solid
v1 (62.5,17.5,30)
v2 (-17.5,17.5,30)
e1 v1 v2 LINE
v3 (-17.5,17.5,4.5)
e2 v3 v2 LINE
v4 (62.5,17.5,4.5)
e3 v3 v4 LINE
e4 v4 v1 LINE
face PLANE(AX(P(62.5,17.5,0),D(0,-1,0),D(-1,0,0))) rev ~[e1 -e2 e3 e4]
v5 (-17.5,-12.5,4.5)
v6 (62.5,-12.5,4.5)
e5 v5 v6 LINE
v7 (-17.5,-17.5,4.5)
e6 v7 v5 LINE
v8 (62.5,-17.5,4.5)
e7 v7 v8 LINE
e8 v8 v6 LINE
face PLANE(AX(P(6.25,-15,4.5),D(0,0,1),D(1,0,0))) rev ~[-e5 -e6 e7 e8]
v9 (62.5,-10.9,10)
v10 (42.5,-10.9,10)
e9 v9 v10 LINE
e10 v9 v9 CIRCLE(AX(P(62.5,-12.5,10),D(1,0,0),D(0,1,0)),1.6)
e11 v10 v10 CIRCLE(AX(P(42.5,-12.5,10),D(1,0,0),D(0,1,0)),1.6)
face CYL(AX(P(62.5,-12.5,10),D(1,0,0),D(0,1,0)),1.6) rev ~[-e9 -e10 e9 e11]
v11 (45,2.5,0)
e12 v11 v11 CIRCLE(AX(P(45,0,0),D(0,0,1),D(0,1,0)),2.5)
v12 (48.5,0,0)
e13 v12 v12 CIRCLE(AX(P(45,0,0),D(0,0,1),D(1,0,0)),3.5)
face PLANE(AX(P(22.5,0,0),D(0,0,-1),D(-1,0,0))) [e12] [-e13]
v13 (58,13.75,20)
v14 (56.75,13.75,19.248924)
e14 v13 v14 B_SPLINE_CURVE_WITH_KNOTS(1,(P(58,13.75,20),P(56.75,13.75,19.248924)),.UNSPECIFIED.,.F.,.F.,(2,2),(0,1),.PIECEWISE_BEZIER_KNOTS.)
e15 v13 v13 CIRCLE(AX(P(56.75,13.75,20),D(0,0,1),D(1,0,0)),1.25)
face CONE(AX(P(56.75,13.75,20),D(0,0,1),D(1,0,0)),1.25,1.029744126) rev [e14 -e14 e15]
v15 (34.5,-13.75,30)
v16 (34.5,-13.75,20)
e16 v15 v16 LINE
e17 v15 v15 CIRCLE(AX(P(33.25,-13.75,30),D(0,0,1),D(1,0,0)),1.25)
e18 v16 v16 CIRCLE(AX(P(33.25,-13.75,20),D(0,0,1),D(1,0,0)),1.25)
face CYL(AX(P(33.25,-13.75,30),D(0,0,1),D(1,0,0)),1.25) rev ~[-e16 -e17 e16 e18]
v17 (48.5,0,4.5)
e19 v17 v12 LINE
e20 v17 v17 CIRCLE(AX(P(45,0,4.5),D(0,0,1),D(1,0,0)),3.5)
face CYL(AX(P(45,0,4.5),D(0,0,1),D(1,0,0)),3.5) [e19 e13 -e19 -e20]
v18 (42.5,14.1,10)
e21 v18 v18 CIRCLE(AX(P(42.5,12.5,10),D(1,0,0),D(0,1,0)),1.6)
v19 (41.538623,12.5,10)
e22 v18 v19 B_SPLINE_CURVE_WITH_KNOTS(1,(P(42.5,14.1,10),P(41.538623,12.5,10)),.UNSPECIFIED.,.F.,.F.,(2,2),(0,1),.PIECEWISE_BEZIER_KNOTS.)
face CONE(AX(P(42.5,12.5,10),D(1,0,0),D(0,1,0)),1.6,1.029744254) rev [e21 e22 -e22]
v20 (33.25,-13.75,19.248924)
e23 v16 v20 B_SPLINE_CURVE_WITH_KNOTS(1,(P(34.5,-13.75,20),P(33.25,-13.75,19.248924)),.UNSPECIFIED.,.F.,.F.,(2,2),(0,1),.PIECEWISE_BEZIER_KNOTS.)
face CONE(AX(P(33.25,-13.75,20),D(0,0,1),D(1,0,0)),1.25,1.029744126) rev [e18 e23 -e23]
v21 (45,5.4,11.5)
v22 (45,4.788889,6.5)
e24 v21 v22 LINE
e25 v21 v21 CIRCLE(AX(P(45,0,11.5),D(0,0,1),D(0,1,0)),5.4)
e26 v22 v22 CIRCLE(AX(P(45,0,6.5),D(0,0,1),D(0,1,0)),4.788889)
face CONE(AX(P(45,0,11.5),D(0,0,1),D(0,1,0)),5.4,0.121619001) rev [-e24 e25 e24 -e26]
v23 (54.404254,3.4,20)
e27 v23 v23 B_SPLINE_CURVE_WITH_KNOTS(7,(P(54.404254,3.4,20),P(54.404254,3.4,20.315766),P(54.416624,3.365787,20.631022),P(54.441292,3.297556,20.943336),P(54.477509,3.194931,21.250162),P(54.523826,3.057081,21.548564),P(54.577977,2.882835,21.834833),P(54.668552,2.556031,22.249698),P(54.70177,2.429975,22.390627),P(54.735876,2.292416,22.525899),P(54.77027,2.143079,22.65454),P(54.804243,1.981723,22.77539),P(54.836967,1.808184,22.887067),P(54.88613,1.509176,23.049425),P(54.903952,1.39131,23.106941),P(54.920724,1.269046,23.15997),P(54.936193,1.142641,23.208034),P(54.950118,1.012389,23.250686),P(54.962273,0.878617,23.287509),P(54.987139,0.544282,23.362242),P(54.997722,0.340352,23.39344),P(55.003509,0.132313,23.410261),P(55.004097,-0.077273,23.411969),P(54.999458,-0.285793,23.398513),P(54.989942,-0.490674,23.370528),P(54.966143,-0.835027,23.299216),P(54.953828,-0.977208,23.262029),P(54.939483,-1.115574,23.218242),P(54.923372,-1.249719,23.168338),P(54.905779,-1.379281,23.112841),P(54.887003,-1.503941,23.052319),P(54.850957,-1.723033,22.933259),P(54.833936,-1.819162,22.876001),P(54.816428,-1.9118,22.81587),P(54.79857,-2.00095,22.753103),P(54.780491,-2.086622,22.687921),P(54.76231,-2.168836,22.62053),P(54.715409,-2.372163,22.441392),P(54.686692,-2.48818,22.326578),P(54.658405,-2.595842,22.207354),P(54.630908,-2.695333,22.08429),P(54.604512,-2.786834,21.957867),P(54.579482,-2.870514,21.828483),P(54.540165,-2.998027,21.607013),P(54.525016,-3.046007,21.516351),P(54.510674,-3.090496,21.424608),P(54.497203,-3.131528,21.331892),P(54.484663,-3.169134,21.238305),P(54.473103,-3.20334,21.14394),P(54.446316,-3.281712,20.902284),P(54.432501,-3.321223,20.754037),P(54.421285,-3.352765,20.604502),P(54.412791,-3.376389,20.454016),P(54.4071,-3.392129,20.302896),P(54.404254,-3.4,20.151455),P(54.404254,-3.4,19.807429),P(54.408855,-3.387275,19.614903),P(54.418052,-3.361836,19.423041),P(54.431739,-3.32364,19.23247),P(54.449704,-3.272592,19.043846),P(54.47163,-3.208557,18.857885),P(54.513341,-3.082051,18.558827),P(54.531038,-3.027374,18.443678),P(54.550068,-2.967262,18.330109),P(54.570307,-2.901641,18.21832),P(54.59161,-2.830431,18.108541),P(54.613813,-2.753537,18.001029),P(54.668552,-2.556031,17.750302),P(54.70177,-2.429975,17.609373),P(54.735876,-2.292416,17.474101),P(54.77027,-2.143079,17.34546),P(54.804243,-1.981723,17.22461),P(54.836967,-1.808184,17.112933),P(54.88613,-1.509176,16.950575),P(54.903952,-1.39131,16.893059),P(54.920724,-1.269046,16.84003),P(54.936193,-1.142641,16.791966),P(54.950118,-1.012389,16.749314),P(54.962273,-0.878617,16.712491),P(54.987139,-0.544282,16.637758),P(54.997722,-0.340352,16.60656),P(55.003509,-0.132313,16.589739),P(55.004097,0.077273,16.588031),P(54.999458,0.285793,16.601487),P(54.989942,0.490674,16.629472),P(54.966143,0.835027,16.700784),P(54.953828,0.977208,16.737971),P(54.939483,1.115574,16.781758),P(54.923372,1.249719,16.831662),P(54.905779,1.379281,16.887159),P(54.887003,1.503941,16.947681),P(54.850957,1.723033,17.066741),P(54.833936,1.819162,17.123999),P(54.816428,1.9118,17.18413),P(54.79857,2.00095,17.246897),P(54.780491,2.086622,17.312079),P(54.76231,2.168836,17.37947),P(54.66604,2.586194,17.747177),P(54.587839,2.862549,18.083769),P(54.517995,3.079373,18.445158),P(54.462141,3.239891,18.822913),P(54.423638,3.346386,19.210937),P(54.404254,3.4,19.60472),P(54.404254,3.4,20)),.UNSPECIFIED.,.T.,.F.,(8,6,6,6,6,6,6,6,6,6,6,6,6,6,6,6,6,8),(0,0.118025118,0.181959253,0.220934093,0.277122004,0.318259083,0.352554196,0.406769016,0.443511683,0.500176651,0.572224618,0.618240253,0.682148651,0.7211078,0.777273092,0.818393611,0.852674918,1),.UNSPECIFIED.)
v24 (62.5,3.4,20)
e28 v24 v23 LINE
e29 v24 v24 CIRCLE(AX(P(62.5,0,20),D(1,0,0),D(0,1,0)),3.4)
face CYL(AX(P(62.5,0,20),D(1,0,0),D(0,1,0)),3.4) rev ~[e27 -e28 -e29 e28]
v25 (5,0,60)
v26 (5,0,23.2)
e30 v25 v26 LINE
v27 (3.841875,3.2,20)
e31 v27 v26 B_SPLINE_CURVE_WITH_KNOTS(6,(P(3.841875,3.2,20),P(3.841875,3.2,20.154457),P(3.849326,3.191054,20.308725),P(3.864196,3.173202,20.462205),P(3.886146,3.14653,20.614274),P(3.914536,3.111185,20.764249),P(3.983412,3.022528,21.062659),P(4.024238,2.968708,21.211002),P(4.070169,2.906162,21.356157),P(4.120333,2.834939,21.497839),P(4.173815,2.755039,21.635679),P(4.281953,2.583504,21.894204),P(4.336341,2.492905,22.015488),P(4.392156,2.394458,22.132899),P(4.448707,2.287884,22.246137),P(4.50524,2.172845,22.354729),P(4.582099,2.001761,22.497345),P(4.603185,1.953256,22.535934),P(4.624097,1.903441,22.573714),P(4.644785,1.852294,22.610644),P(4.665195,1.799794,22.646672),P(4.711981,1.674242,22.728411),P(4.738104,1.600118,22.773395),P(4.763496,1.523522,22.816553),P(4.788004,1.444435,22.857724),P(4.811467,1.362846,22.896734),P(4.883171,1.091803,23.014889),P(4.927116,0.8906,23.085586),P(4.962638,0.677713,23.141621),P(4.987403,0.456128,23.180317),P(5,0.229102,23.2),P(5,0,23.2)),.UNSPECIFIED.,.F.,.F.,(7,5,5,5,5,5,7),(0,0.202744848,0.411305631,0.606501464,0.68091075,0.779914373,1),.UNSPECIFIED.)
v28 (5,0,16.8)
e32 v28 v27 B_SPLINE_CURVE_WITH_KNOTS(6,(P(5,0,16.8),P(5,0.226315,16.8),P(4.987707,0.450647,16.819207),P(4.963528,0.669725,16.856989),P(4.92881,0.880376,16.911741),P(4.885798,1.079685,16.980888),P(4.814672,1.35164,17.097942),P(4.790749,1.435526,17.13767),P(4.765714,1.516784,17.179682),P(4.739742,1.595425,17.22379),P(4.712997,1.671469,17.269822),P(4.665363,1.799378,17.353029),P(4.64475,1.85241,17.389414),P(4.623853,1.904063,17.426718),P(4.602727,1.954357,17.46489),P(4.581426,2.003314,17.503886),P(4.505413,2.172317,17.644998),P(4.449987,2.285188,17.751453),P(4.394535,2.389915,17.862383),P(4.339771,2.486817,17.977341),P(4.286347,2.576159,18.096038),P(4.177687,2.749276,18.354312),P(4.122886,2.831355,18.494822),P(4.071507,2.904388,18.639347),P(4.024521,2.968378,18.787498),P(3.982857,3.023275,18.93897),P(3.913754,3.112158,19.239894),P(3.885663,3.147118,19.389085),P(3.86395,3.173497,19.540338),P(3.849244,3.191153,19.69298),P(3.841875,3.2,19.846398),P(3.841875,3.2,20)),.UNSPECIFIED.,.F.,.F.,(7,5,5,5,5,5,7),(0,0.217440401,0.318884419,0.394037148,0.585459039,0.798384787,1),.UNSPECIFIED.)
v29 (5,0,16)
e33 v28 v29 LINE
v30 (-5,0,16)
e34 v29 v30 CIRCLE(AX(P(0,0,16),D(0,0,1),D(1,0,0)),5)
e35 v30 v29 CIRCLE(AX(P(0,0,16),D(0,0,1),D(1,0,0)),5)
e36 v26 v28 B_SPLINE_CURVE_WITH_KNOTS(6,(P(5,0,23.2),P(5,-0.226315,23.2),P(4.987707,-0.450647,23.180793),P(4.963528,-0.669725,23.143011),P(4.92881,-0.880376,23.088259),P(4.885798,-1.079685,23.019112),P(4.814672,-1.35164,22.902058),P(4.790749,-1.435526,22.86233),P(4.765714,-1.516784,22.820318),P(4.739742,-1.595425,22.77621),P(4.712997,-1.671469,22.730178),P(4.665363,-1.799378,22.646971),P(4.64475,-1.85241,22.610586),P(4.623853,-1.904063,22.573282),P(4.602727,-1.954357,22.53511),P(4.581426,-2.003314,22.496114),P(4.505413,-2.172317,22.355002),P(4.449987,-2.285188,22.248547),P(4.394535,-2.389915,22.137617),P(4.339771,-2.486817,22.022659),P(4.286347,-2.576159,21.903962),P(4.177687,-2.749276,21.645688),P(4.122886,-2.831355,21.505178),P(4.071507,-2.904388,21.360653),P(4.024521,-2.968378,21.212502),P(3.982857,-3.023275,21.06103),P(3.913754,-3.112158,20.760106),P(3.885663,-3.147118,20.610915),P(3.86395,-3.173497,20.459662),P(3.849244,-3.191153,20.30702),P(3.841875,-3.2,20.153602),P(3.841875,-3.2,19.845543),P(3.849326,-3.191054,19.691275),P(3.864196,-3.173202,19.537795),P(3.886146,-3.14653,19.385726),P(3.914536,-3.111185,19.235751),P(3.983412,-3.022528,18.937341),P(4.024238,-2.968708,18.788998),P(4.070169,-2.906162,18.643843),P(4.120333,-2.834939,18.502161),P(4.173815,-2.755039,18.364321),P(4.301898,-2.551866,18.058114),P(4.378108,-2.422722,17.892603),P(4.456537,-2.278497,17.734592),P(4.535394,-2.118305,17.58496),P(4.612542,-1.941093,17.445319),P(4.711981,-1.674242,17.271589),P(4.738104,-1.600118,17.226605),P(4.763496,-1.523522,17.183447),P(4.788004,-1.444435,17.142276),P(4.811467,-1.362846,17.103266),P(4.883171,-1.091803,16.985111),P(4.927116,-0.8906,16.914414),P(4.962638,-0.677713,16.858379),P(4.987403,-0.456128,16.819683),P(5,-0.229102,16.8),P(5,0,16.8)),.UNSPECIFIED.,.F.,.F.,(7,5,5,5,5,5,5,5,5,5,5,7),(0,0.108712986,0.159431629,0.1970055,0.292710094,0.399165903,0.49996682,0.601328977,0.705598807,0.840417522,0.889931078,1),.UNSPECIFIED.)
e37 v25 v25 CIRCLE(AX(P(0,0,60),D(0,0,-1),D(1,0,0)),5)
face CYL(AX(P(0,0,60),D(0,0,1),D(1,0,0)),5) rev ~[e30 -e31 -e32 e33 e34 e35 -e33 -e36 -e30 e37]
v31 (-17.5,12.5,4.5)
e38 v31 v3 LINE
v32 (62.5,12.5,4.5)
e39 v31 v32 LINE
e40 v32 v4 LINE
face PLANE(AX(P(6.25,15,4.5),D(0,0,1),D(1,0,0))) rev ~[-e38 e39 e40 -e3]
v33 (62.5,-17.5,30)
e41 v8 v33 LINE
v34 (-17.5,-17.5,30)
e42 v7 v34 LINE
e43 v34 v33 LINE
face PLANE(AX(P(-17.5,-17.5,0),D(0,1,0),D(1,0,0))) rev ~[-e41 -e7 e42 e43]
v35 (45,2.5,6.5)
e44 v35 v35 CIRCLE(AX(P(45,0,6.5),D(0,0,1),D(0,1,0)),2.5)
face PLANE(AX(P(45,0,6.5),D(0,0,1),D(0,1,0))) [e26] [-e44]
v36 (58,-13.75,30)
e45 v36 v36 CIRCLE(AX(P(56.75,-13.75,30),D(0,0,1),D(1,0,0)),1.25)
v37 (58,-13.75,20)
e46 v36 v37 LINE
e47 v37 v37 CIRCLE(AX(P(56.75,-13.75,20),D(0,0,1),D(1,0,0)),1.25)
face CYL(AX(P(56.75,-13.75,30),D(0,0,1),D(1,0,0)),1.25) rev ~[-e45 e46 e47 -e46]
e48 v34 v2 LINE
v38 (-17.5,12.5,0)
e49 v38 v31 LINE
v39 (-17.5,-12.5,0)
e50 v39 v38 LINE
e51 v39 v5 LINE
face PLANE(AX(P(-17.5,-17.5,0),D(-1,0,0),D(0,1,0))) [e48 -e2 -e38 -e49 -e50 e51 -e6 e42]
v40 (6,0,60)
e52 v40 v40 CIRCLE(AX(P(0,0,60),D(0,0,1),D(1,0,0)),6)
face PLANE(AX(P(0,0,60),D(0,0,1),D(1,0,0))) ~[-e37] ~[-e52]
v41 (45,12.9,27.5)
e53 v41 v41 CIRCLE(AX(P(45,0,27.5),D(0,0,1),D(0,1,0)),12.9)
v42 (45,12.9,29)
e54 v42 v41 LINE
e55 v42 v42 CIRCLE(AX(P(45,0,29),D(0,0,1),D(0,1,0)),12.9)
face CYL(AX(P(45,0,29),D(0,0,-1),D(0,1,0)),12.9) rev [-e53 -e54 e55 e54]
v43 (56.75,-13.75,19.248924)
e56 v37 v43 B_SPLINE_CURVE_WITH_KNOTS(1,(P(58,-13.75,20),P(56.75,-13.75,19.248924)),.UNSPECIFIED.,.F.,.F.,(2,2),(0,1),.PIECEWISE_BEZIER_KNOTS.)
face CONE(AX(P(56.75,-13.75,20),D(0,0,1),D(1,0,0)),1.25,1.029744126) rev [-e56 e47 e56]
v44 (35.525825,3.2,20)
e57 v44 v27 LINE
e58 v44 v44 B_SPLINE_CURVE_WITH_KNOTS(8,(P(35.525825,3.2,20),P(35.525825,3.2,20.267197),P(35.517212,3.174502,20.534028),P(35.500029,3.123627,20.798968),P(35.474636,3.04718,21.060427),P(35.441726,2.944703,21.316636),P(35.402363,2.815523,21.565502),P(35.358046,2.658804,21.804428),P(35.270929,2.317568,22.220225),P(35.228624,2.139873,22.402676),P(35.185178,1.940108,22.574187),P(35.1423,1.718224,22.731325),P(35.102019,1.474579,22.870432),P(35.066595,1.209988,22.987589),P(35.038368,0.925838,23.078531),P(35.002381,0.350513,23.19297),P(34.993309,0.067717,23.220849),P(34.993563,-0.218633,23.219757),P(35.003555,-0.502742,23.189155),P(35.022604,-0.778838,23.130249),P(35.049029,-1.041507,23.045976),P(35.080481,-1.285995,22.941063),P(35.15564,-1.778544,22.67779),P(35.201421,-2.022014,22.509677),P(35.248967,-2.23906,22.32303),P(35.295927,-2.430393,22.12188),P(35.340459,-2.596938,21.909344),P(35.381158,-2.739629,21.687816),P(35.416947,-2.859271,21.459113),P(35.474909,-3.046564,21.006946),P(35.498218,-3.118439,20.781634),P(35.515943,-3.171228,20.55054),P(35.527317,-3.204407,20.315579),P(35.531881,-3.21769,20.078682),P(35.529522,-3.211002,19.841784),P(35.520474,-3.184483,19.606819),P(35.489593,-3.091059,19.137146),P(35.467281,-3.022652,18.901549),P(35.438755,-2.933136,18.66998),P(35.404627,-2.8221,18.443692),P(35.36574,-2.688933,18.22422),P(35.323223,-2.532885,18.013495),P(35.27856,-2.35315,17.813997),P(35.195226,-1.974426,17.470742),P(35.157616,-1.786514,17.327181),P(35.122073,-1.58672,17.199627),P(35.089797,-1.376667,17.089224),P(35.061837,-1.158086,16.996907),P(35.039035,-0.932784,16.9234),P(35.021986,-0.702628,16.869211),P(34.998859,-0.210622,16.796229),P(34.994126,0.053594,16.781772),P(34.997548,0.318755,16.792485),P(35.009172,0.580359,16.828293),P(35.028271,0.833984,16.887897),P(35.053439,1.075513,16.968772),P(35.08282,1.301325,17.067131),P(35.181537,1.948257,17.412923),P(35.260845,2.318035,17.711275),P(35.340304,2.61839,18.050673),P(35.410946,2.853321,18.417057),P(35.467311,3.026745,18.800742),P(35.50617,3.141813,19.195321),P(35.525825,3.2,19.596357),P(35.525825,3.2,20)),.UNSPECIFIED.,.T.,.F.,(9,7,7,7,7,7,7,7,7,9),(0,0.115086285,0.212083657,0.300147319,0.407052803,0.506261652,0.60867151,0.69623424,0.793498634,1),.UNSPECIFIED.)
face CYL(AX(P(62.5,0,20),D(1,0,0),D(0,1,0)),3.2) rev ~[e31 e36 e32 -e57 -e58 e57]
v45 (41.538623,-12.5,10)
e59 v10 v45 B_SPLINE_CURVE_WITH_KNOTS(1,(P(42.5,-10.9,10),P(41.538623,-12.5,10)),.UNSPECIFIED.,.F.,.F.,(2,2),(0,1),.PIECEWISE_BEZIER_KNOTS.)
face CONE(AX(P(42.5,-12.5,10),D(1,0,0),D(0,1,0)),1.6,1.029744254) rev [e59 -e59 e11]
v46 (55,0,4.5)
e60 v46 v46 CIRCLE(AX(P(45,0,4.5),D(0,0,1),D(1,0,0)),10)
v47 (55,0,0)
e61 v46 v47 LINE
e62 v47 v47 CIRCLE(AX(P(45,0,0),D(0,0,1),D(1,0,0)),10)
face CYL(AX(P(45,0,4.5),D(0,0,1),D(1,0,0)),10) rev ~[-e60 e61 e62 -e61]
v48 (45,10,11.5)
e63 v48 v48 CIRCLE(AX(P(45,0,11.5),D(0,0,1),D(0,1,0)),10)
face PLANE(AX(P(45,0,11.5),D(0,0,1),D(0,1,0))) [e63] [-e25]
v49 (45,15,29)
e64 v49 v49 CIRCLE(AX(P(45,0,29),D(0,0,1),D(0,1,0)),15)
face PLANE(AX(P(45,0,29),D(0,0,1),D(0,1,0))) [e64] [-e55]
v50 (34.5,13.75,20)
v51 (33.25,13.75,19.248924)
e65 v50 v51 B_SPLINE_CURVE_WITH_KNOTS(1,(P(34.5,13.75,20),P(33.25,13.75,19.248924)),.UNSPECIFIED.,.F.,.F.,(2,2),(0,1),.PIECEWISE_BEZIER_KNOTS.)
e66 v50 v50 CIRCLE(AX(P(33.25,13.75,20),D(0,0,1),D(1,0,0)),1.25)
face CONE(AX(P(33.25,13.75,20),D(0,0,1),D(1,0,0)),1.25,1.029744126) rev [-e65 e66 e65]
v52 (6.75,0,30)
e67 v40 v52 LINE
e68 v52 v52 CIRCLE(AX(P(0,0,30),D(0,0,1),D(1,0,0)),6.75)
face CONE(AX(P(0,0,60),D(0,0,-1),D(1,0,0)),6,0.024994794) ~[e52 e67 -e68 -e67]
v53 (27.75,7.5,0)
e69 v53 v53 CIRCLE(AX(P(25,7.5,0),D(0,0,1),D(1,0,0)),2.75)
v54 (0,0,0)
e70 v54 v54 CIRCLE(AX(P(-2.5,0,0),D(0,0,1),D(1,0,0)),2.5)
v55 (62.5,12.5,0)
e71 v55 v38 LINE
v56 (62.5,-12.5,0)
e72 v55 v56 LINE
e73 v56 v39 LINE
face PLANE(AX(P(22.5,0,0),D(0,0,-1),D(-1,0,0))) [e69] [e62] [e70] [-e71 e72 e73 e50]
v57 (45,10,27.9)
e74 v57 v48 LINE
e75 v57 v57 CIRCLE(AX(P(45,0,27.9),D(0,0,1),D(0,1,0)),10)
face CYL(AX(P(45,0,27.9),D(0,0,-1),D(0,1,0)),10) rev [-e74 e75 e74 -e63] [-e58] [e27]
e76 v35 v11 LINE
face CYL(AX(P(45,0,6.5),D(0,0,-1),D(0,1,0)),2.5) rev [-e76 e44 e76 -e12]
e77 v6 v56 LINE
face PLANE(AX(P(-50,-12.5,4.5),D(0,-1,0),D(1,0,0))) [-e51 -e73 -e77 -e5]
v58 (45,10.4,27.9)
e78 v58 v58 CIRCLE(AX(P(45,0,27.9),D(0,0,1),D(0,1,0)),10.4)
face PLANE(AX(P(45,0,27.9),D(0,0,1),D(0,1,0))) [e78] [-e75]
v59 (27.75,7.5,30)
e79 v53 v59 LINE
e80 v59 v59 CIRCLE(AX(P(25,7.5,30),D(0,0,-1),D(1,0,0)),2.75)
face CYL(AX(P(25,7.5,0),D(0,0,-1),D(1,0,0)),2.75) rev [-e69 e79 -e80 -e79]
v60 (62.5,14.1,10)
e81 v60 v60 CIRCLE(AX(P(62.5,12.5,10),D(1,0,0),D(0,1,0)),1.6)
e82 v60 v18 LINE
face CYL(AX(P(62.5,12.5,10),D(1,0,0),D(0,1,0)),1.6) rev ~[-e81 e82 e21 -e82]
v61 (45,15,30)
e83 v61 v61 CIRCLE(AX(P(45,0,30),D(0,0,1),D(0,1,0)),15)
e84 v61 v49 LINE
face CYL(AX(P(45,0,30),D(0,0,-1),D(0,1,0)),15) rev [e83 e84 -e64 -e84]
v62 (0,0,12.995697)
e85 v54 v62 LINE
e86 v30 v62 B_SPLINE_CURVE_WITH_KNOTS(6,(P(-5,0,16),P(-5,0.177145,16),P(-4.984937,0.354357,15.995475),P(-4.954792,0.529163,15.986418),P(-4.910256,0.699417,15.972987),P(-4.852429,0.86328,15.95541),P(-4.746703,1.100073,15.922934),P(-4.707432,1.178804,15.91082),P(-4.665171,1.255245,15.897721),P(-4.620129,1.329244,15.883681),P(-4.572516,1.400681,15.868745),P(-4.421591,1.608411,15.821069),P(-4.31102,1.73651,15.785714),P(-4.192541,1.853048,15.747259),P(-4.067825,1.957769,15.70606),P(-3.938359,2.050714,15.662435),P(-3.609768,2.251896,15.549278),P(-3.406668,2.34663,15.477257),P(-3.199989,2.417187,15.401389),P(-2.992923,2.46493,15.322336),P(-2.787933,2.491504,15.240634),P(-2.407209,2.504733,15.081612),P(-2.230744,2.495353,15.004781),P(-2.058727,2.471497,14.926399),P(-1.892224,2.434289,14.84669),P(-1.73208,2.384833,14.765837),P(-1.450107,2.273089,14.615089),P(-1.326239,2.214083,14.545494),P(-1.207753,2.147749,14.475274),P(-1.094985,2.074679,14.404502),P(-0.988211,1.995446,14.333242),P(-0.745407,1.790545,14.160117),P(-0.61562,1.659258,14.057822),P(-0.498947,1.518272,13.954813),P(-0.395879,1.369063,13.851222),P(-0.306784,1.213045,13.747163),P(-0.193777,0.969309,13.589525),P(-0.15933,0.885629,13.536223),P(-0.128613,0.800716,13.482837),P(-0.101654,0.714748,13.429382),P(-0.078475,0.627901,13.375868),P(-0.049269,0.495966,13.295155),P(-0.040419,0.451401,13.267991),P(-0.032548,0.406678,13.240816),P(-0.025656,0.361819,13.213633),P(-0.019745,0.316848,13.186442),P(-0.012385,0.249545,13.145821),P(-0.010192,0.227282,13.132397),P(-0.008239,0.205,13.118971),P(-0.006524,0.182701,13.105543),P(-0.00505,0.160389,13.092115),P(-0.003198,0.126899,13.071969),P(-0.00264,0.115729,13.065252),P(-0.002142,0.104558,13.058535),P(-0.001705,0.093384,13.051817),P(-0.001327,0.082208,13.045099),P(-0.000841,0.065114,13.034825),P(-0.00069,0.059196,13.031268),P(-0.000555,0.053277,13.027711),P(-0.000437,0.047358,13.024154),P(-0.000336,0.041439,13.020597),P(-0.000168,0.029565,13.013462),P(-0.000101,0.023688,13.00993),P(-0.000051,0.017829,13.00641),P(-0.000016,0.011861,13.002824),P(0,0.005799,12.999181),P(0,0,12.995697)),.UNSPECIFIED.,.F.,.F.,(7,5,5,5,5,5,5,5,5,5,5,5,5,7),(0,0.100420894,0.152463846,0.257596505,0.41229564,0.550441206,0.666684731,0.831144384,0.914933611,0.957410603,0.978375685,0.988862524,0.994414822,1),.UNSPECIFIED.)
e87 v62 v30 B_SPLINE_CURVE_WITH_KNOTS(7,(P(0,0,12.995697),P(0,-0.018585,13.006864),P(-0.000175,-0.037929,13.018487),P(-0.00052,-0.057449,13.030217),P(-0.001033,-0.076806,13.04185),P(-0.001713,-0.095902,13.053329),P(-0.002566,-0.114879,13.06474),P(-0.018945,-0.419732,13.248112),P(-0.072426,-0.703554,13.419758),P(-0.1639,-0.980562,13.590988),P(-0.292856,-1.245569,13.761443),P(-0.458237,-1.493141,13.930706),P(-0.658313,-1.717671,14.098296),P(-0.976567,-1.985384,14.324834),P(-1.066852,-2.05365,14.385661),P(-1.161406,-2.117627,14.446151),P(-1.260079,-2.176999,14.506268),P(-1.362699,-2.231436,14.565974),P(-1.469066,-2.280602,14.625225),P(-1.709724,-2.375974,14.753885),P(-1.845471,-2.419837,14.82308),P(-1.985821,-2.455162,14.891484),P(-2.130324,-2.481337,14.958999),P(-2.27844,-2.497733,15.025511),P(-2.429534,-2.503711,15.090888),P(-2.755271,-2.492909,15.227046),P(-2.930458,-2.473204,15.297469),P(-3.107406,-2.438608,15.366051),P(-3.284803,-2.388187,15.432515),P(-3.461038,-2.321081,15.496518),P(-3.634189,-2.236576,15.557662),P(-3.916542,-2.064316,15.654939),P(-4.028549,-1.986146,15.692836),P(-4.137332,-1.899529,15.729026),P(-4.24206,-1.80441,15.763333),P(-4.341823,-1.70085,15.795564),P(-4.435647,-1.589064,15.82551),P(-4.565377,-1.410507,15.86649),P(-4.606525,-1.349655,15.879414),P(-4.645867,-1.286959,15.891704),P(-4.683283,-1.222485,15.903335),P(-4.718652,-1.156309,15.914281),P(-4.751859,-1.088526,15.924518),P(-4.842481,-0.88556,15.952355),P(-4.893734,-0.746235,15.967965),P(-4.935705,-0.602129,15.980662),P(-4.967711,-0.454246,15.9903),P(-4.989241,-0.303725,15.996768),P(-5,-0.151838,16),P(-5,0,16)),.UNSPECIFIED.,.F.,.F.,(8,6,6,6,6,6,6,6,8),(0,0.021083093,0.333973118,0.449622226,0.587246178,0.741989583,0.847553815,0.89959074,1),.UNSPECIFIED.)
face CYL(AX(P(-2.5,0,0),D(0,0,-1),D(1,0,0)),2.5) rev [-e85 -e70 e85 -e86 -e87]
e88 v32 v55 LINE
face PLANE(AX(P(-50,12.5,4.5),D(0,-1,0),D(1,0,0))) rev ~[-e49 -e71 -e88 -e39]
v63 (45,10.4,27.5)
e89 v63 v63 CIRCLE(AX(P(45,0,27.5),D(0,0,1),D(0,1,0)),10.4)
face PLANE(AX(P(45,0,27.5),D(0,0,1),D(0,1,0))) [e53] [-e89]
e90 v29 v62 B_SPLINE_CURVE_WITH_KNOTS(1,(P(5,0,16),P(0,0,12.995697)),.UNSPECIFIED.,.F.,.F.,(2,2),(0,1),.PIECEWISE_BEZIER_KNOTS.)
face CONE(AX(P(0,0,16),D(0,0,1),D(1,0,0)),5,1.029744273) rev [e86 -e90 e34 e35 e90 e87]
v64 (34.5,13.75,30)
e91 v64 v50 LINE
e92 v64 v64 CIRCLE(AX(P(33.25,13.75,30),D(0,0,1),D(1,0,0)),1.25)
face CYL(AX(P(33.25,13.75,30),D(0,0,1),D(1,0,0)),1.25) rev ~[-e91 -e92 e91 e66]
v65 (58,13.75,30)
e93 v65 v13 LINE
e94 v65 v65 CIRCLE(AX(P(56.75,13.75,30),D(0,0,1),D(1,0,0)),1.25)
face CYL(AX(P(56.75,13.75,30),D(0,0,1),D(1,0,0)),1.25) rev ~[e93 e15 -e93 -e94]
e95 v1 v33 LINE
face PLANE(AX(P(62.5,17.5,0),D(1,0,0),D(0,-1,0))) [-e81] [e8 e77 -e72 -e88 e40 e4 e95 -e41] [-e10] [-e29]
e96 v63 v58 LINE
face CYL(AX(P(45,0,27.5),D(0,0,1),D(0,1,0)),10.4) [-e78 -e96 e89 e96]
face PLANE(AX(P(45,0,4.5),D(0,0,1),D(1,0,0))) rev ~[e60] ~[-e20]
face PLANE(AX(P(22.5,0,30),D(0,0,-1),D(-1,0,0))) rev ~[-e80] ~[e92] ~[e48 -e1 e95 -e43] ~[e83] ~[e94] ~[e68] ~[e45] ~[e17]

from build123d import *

# Parameters (mm, degrees)
PAD_DEPTH       = 30
SKETCH003_R     = 5
HOLE_DEPTH      = 44
HOLE_TIPS_R     = 5
SKETCH005_R     = 2.5
HOLE001_DEPTH   = 60.001
SKETCH011_R     = 3.2
HOLE002_DEPTH   = 60
HOLE002_TIPS_R  = 3.2
SKETCH013_R     = 1.25
HOLE003_DEPTH   = 10
HOLE003_TIPS_R  = 1.25
SKETCH014_R     = 3.4
HOLE004_DEPTH   = 20
HOLE004_TIPS_R  = 3.4
SKETCH015_R     = 10
SKETCH015_R_2   = 3.5
SKETCH015_W     = 112.5
SKETCH015_H     = 5
POCKET001_DEPTH = 5
SKETCH016_R     = 1.6
HOLE005_DEPTH   = 20
HOLE005_TIPS_R  = 1.6
SKETCH029_R     = 2.75
POCKET007_DEPTH = 60.001


with BuildPart() as part:
    # Sketch → Revolution (revolve)
    with BuildSketch(Plane.XZ):
        Polygon((6, 60), (6.75, 30), (0, 30), (0, 60), align=None)
    revolve(axis=Axis((0, 0, 0), (0, 0, 1)))

    # Sketch006 → Pad (new body)
    with BuildSketch(Plane.XY):
        Polygon((0, 17.5), (62.5, 17.5), (62.5, -17.5), (0, -17.5), (-17.5, -17.5), (-17.5, 17.5), align=None)
    extrude(amount=PAD_DEPTH)

    # Sketch003 → Hole (cut)
    with BuildSketch(Plane.XY.offset(60)):
        Circle(SKETCH003_R)
    extrude(amount=-HOLE_DEPTH, mode=Mode.SUBTRACT)

    # Hole tips → Hole tip 1 section 0
    with BuildSketch(Plane.XY.offset(16), mode=Mode.PRIVATE) as hole_tip_1_s0:
        Circle(HOLE_TIPS_R)
    loft([hole_tip_1_s0.sketch, Vertex(0, 0, 12.995697)], mode=Mode.SUBTRACT)

    # Sketch005 → Hole001 (cut, through all)
    with BuildSketch(Plane.XY):
        with Locations((-2.5, 0)):
            Circle(SKETCH005_R)
    extrude(amount=HOLE001_DEPTH, mode=Mode.SUBTRACT)

    # Sketch011 → Hole002 (cut)
    with BuildSketch(Plane.YZ.offset(62.5)):
        with Locations((0, 20)):
            Circle(SKETCH011_R)
    extrude(amount=-HOLE002_DEPTH, mode=Mode.SUBTRACT)

    # Hole002 tips → Hole002 tip 1 section 0
    with BuildSketch(Plane.YZ.offset(2.5), mode=Mode.PRIVATE) as hole002_tip_1_s0:
        with Locations((0, 20)):
            Circle(HOLE002_TIPS_R)
    loft([hole002_tip_1_s0.sketch, Vertex(0.577246, 0, 20)], mode=Mode.SUBTRACT)

    # Sketch012 → Groove (revolve, cut)
    with BuildSketch(Plane.YZ.offset(45)):
        Polygon((15, 30), (15, 29), (12.9, 29), (12.9, 27.5), (10.4, 27.5), (10.4, 27.9), (10, 27.9), (10, 11.5), (5.4, 11.5), (4.788889, 6.5), (2.5, 6.5), (2.5, 0), (0, 0), (0, 30), align=None)
    revolve(axis=Axis((45, 0, 0), (0, 0, 1)), mode=Mode.SUBTRACT)

    # Sketch013 → Hole003 (cut)
    with BuildSketch(Plane.XY.offset(30)):
        with Locations((33.25, 13.75)):
            Circle(SKETCH013_R)
        with Locations((56.75, 13.75)):
            Circle(SKETCH013_R)
        with Locations((33.25, -13.75)):
            Circle(SKETCH013_R)
        with Locations((56.75, -13.75)):
            Circle(SKETCH013_R)
    extrude(amount=-HOLE003_DEPTH, mode=Mode.SUBTRACT)

    # Hole003 tips → Hole003 tip 1 section 0
    with BuildSketch(Plane.XY.offset(20), mode=Mode.PRIVATE) as hole003_tip_1_s0:
        with Locations((33.25, 13.75)):
            Circle(HOLE003_TIPS_R)
    loft([hole003_tip_1_s0.sketch, Vertex(33.25, 13.75, 19.248924)], mode=Mode.SUBTRACT)

    # Hole003 tips → Hole003 tip 2 section 0
    with BuildSketch(Plane.XY.offset(20), mode=Mode.PRIVATE) as hole003_tip_2_s0:
        with Locations((56.75, 13.75)):
            Circle(HOLE003_TIPS_R)
    loft([hole003_tip_2_s0.sketch, Vertex(56.75, 13.75, 19.248924)], mode=Mode.SUBTRACT)

    # Hole003 tips → Hole003 tip 3 section 0
    with BuildSketch(Plane.XY.offset(20), mode=Mode.PRIVATE) as hole003_tip_3_s0:
        with Locations((33.25, -13.75)):
            Circle(HOLE003_TIPS_R)
    loft([hole003_tip_3_s0.sketch, Vertex(33.25, -13.75, 19.248924)], mode=Mode.SUBTRACT)

    # Hole003 tips → Hole003 tip 4 section 0
    with BuildSketch(Plane.XY.offset(20), mode=Mode.PRIVATE) as hole003_tip_4_s0:
        with Locations((56.75, -13.75)):
            Circle(HOLE003_TIPS_R)
    loft([hole003_tip_4_s0.sketch, Vertex(56.75, -13.75, 19.248924)], mode=Mode.SUBTRACT)

    # Sketch014 → Hole004 (cut)
    with BuildSketch(Plane.YZ.offset(62.5)):
        with Locations((0, 20)):
            Circle(SKETCH014_R)
    extrude(amount=-HOLE004_DEPTH, mode=Mode.SUBTRACT)

    # Hole004 tips → Hole004 tip 1 section 0
    with BuildSketch(Plane.YZ.offset(42.5), mode=Mode.PRIVATE) as hole004_tip_1_s0:
        with Locations((0, 20)):
            Circle(HOLE004_TIPS_R)
    loft([hole004_tip_1_s0.sketch, Vertex(40.457074, 0, 20)], mode=Mode.SUBTRACT)

    # Sketch015 → Pocket001 (cut)
    with BuildSketch(Plane.XY.offset(4.5)):
        with Locations((45, 0)):
            Circle(SKETCH015_R)
        with Locations((45, 0)):
            Circle(SKETCH015_R_2, mode=Mode.SUBTRACT)
        with Locations((6.25, 15)):
            Rectangle(SKETCH015_W, SKETCH015_H)
        with Locations((6.25, -15)):
            Rectangle(SKETCH015_W, SKETCH015_H)
    extrude(amount=-POCKET001_DEPTH, mode=Mode.SUBTRACT)

    # Sketch016 → Hole005 (cut)
    with BuildSketch(Plane.YZ.offset(62.5)):
        with Locations((-12.5, 10)):
            Circle(SKETCH016_R)
        with Locations((12.5, 10)):
            Circle(SKETCH016_R)
    extrude(amount=-HOLE005_DEPTH, mode=Mode.SUBTRACT)

    # Hole005 tips → Hole005 tip 1 section 0
    with BuildSketch(Plane.YZ.offset(42.5), mode=Mode.PRIVATE) as hole005_tip_1_s0:
        with Locations((-12.5, 10)):
            Circle(HOLE005_TIPS_R)
    loft([hole005_tip_1_s0.sketch, Vertex(41.538623, -12.5, 10)], mode=Mode.SUBTRACT)

    # Hole005 tips → Hole005 tip 2 section 0
    with BuildSketch(Plane.YZ.offset(42.5), mode=Mode.PRIVATE) as hole005_tip_2_s0:
        with Locations((12.5, 10)):
            Circle(HOLE005_TIPS_R)
    loft([hole005_tip_2_s0.sketch, Vertex(41.538623, 12.5, 10)], mode=Mode.SUBTRACT)

    # Sketch029 → Pocket007 (cut, through all)
    with BuildSketch(Plane.XY):
        with Locations((25, 7.5)):
            Circle(SKETCH029_R)
    extrude(amount=POCKET007_DEPTH, mode=Mode.SUBTRACT)


solid = part.part
